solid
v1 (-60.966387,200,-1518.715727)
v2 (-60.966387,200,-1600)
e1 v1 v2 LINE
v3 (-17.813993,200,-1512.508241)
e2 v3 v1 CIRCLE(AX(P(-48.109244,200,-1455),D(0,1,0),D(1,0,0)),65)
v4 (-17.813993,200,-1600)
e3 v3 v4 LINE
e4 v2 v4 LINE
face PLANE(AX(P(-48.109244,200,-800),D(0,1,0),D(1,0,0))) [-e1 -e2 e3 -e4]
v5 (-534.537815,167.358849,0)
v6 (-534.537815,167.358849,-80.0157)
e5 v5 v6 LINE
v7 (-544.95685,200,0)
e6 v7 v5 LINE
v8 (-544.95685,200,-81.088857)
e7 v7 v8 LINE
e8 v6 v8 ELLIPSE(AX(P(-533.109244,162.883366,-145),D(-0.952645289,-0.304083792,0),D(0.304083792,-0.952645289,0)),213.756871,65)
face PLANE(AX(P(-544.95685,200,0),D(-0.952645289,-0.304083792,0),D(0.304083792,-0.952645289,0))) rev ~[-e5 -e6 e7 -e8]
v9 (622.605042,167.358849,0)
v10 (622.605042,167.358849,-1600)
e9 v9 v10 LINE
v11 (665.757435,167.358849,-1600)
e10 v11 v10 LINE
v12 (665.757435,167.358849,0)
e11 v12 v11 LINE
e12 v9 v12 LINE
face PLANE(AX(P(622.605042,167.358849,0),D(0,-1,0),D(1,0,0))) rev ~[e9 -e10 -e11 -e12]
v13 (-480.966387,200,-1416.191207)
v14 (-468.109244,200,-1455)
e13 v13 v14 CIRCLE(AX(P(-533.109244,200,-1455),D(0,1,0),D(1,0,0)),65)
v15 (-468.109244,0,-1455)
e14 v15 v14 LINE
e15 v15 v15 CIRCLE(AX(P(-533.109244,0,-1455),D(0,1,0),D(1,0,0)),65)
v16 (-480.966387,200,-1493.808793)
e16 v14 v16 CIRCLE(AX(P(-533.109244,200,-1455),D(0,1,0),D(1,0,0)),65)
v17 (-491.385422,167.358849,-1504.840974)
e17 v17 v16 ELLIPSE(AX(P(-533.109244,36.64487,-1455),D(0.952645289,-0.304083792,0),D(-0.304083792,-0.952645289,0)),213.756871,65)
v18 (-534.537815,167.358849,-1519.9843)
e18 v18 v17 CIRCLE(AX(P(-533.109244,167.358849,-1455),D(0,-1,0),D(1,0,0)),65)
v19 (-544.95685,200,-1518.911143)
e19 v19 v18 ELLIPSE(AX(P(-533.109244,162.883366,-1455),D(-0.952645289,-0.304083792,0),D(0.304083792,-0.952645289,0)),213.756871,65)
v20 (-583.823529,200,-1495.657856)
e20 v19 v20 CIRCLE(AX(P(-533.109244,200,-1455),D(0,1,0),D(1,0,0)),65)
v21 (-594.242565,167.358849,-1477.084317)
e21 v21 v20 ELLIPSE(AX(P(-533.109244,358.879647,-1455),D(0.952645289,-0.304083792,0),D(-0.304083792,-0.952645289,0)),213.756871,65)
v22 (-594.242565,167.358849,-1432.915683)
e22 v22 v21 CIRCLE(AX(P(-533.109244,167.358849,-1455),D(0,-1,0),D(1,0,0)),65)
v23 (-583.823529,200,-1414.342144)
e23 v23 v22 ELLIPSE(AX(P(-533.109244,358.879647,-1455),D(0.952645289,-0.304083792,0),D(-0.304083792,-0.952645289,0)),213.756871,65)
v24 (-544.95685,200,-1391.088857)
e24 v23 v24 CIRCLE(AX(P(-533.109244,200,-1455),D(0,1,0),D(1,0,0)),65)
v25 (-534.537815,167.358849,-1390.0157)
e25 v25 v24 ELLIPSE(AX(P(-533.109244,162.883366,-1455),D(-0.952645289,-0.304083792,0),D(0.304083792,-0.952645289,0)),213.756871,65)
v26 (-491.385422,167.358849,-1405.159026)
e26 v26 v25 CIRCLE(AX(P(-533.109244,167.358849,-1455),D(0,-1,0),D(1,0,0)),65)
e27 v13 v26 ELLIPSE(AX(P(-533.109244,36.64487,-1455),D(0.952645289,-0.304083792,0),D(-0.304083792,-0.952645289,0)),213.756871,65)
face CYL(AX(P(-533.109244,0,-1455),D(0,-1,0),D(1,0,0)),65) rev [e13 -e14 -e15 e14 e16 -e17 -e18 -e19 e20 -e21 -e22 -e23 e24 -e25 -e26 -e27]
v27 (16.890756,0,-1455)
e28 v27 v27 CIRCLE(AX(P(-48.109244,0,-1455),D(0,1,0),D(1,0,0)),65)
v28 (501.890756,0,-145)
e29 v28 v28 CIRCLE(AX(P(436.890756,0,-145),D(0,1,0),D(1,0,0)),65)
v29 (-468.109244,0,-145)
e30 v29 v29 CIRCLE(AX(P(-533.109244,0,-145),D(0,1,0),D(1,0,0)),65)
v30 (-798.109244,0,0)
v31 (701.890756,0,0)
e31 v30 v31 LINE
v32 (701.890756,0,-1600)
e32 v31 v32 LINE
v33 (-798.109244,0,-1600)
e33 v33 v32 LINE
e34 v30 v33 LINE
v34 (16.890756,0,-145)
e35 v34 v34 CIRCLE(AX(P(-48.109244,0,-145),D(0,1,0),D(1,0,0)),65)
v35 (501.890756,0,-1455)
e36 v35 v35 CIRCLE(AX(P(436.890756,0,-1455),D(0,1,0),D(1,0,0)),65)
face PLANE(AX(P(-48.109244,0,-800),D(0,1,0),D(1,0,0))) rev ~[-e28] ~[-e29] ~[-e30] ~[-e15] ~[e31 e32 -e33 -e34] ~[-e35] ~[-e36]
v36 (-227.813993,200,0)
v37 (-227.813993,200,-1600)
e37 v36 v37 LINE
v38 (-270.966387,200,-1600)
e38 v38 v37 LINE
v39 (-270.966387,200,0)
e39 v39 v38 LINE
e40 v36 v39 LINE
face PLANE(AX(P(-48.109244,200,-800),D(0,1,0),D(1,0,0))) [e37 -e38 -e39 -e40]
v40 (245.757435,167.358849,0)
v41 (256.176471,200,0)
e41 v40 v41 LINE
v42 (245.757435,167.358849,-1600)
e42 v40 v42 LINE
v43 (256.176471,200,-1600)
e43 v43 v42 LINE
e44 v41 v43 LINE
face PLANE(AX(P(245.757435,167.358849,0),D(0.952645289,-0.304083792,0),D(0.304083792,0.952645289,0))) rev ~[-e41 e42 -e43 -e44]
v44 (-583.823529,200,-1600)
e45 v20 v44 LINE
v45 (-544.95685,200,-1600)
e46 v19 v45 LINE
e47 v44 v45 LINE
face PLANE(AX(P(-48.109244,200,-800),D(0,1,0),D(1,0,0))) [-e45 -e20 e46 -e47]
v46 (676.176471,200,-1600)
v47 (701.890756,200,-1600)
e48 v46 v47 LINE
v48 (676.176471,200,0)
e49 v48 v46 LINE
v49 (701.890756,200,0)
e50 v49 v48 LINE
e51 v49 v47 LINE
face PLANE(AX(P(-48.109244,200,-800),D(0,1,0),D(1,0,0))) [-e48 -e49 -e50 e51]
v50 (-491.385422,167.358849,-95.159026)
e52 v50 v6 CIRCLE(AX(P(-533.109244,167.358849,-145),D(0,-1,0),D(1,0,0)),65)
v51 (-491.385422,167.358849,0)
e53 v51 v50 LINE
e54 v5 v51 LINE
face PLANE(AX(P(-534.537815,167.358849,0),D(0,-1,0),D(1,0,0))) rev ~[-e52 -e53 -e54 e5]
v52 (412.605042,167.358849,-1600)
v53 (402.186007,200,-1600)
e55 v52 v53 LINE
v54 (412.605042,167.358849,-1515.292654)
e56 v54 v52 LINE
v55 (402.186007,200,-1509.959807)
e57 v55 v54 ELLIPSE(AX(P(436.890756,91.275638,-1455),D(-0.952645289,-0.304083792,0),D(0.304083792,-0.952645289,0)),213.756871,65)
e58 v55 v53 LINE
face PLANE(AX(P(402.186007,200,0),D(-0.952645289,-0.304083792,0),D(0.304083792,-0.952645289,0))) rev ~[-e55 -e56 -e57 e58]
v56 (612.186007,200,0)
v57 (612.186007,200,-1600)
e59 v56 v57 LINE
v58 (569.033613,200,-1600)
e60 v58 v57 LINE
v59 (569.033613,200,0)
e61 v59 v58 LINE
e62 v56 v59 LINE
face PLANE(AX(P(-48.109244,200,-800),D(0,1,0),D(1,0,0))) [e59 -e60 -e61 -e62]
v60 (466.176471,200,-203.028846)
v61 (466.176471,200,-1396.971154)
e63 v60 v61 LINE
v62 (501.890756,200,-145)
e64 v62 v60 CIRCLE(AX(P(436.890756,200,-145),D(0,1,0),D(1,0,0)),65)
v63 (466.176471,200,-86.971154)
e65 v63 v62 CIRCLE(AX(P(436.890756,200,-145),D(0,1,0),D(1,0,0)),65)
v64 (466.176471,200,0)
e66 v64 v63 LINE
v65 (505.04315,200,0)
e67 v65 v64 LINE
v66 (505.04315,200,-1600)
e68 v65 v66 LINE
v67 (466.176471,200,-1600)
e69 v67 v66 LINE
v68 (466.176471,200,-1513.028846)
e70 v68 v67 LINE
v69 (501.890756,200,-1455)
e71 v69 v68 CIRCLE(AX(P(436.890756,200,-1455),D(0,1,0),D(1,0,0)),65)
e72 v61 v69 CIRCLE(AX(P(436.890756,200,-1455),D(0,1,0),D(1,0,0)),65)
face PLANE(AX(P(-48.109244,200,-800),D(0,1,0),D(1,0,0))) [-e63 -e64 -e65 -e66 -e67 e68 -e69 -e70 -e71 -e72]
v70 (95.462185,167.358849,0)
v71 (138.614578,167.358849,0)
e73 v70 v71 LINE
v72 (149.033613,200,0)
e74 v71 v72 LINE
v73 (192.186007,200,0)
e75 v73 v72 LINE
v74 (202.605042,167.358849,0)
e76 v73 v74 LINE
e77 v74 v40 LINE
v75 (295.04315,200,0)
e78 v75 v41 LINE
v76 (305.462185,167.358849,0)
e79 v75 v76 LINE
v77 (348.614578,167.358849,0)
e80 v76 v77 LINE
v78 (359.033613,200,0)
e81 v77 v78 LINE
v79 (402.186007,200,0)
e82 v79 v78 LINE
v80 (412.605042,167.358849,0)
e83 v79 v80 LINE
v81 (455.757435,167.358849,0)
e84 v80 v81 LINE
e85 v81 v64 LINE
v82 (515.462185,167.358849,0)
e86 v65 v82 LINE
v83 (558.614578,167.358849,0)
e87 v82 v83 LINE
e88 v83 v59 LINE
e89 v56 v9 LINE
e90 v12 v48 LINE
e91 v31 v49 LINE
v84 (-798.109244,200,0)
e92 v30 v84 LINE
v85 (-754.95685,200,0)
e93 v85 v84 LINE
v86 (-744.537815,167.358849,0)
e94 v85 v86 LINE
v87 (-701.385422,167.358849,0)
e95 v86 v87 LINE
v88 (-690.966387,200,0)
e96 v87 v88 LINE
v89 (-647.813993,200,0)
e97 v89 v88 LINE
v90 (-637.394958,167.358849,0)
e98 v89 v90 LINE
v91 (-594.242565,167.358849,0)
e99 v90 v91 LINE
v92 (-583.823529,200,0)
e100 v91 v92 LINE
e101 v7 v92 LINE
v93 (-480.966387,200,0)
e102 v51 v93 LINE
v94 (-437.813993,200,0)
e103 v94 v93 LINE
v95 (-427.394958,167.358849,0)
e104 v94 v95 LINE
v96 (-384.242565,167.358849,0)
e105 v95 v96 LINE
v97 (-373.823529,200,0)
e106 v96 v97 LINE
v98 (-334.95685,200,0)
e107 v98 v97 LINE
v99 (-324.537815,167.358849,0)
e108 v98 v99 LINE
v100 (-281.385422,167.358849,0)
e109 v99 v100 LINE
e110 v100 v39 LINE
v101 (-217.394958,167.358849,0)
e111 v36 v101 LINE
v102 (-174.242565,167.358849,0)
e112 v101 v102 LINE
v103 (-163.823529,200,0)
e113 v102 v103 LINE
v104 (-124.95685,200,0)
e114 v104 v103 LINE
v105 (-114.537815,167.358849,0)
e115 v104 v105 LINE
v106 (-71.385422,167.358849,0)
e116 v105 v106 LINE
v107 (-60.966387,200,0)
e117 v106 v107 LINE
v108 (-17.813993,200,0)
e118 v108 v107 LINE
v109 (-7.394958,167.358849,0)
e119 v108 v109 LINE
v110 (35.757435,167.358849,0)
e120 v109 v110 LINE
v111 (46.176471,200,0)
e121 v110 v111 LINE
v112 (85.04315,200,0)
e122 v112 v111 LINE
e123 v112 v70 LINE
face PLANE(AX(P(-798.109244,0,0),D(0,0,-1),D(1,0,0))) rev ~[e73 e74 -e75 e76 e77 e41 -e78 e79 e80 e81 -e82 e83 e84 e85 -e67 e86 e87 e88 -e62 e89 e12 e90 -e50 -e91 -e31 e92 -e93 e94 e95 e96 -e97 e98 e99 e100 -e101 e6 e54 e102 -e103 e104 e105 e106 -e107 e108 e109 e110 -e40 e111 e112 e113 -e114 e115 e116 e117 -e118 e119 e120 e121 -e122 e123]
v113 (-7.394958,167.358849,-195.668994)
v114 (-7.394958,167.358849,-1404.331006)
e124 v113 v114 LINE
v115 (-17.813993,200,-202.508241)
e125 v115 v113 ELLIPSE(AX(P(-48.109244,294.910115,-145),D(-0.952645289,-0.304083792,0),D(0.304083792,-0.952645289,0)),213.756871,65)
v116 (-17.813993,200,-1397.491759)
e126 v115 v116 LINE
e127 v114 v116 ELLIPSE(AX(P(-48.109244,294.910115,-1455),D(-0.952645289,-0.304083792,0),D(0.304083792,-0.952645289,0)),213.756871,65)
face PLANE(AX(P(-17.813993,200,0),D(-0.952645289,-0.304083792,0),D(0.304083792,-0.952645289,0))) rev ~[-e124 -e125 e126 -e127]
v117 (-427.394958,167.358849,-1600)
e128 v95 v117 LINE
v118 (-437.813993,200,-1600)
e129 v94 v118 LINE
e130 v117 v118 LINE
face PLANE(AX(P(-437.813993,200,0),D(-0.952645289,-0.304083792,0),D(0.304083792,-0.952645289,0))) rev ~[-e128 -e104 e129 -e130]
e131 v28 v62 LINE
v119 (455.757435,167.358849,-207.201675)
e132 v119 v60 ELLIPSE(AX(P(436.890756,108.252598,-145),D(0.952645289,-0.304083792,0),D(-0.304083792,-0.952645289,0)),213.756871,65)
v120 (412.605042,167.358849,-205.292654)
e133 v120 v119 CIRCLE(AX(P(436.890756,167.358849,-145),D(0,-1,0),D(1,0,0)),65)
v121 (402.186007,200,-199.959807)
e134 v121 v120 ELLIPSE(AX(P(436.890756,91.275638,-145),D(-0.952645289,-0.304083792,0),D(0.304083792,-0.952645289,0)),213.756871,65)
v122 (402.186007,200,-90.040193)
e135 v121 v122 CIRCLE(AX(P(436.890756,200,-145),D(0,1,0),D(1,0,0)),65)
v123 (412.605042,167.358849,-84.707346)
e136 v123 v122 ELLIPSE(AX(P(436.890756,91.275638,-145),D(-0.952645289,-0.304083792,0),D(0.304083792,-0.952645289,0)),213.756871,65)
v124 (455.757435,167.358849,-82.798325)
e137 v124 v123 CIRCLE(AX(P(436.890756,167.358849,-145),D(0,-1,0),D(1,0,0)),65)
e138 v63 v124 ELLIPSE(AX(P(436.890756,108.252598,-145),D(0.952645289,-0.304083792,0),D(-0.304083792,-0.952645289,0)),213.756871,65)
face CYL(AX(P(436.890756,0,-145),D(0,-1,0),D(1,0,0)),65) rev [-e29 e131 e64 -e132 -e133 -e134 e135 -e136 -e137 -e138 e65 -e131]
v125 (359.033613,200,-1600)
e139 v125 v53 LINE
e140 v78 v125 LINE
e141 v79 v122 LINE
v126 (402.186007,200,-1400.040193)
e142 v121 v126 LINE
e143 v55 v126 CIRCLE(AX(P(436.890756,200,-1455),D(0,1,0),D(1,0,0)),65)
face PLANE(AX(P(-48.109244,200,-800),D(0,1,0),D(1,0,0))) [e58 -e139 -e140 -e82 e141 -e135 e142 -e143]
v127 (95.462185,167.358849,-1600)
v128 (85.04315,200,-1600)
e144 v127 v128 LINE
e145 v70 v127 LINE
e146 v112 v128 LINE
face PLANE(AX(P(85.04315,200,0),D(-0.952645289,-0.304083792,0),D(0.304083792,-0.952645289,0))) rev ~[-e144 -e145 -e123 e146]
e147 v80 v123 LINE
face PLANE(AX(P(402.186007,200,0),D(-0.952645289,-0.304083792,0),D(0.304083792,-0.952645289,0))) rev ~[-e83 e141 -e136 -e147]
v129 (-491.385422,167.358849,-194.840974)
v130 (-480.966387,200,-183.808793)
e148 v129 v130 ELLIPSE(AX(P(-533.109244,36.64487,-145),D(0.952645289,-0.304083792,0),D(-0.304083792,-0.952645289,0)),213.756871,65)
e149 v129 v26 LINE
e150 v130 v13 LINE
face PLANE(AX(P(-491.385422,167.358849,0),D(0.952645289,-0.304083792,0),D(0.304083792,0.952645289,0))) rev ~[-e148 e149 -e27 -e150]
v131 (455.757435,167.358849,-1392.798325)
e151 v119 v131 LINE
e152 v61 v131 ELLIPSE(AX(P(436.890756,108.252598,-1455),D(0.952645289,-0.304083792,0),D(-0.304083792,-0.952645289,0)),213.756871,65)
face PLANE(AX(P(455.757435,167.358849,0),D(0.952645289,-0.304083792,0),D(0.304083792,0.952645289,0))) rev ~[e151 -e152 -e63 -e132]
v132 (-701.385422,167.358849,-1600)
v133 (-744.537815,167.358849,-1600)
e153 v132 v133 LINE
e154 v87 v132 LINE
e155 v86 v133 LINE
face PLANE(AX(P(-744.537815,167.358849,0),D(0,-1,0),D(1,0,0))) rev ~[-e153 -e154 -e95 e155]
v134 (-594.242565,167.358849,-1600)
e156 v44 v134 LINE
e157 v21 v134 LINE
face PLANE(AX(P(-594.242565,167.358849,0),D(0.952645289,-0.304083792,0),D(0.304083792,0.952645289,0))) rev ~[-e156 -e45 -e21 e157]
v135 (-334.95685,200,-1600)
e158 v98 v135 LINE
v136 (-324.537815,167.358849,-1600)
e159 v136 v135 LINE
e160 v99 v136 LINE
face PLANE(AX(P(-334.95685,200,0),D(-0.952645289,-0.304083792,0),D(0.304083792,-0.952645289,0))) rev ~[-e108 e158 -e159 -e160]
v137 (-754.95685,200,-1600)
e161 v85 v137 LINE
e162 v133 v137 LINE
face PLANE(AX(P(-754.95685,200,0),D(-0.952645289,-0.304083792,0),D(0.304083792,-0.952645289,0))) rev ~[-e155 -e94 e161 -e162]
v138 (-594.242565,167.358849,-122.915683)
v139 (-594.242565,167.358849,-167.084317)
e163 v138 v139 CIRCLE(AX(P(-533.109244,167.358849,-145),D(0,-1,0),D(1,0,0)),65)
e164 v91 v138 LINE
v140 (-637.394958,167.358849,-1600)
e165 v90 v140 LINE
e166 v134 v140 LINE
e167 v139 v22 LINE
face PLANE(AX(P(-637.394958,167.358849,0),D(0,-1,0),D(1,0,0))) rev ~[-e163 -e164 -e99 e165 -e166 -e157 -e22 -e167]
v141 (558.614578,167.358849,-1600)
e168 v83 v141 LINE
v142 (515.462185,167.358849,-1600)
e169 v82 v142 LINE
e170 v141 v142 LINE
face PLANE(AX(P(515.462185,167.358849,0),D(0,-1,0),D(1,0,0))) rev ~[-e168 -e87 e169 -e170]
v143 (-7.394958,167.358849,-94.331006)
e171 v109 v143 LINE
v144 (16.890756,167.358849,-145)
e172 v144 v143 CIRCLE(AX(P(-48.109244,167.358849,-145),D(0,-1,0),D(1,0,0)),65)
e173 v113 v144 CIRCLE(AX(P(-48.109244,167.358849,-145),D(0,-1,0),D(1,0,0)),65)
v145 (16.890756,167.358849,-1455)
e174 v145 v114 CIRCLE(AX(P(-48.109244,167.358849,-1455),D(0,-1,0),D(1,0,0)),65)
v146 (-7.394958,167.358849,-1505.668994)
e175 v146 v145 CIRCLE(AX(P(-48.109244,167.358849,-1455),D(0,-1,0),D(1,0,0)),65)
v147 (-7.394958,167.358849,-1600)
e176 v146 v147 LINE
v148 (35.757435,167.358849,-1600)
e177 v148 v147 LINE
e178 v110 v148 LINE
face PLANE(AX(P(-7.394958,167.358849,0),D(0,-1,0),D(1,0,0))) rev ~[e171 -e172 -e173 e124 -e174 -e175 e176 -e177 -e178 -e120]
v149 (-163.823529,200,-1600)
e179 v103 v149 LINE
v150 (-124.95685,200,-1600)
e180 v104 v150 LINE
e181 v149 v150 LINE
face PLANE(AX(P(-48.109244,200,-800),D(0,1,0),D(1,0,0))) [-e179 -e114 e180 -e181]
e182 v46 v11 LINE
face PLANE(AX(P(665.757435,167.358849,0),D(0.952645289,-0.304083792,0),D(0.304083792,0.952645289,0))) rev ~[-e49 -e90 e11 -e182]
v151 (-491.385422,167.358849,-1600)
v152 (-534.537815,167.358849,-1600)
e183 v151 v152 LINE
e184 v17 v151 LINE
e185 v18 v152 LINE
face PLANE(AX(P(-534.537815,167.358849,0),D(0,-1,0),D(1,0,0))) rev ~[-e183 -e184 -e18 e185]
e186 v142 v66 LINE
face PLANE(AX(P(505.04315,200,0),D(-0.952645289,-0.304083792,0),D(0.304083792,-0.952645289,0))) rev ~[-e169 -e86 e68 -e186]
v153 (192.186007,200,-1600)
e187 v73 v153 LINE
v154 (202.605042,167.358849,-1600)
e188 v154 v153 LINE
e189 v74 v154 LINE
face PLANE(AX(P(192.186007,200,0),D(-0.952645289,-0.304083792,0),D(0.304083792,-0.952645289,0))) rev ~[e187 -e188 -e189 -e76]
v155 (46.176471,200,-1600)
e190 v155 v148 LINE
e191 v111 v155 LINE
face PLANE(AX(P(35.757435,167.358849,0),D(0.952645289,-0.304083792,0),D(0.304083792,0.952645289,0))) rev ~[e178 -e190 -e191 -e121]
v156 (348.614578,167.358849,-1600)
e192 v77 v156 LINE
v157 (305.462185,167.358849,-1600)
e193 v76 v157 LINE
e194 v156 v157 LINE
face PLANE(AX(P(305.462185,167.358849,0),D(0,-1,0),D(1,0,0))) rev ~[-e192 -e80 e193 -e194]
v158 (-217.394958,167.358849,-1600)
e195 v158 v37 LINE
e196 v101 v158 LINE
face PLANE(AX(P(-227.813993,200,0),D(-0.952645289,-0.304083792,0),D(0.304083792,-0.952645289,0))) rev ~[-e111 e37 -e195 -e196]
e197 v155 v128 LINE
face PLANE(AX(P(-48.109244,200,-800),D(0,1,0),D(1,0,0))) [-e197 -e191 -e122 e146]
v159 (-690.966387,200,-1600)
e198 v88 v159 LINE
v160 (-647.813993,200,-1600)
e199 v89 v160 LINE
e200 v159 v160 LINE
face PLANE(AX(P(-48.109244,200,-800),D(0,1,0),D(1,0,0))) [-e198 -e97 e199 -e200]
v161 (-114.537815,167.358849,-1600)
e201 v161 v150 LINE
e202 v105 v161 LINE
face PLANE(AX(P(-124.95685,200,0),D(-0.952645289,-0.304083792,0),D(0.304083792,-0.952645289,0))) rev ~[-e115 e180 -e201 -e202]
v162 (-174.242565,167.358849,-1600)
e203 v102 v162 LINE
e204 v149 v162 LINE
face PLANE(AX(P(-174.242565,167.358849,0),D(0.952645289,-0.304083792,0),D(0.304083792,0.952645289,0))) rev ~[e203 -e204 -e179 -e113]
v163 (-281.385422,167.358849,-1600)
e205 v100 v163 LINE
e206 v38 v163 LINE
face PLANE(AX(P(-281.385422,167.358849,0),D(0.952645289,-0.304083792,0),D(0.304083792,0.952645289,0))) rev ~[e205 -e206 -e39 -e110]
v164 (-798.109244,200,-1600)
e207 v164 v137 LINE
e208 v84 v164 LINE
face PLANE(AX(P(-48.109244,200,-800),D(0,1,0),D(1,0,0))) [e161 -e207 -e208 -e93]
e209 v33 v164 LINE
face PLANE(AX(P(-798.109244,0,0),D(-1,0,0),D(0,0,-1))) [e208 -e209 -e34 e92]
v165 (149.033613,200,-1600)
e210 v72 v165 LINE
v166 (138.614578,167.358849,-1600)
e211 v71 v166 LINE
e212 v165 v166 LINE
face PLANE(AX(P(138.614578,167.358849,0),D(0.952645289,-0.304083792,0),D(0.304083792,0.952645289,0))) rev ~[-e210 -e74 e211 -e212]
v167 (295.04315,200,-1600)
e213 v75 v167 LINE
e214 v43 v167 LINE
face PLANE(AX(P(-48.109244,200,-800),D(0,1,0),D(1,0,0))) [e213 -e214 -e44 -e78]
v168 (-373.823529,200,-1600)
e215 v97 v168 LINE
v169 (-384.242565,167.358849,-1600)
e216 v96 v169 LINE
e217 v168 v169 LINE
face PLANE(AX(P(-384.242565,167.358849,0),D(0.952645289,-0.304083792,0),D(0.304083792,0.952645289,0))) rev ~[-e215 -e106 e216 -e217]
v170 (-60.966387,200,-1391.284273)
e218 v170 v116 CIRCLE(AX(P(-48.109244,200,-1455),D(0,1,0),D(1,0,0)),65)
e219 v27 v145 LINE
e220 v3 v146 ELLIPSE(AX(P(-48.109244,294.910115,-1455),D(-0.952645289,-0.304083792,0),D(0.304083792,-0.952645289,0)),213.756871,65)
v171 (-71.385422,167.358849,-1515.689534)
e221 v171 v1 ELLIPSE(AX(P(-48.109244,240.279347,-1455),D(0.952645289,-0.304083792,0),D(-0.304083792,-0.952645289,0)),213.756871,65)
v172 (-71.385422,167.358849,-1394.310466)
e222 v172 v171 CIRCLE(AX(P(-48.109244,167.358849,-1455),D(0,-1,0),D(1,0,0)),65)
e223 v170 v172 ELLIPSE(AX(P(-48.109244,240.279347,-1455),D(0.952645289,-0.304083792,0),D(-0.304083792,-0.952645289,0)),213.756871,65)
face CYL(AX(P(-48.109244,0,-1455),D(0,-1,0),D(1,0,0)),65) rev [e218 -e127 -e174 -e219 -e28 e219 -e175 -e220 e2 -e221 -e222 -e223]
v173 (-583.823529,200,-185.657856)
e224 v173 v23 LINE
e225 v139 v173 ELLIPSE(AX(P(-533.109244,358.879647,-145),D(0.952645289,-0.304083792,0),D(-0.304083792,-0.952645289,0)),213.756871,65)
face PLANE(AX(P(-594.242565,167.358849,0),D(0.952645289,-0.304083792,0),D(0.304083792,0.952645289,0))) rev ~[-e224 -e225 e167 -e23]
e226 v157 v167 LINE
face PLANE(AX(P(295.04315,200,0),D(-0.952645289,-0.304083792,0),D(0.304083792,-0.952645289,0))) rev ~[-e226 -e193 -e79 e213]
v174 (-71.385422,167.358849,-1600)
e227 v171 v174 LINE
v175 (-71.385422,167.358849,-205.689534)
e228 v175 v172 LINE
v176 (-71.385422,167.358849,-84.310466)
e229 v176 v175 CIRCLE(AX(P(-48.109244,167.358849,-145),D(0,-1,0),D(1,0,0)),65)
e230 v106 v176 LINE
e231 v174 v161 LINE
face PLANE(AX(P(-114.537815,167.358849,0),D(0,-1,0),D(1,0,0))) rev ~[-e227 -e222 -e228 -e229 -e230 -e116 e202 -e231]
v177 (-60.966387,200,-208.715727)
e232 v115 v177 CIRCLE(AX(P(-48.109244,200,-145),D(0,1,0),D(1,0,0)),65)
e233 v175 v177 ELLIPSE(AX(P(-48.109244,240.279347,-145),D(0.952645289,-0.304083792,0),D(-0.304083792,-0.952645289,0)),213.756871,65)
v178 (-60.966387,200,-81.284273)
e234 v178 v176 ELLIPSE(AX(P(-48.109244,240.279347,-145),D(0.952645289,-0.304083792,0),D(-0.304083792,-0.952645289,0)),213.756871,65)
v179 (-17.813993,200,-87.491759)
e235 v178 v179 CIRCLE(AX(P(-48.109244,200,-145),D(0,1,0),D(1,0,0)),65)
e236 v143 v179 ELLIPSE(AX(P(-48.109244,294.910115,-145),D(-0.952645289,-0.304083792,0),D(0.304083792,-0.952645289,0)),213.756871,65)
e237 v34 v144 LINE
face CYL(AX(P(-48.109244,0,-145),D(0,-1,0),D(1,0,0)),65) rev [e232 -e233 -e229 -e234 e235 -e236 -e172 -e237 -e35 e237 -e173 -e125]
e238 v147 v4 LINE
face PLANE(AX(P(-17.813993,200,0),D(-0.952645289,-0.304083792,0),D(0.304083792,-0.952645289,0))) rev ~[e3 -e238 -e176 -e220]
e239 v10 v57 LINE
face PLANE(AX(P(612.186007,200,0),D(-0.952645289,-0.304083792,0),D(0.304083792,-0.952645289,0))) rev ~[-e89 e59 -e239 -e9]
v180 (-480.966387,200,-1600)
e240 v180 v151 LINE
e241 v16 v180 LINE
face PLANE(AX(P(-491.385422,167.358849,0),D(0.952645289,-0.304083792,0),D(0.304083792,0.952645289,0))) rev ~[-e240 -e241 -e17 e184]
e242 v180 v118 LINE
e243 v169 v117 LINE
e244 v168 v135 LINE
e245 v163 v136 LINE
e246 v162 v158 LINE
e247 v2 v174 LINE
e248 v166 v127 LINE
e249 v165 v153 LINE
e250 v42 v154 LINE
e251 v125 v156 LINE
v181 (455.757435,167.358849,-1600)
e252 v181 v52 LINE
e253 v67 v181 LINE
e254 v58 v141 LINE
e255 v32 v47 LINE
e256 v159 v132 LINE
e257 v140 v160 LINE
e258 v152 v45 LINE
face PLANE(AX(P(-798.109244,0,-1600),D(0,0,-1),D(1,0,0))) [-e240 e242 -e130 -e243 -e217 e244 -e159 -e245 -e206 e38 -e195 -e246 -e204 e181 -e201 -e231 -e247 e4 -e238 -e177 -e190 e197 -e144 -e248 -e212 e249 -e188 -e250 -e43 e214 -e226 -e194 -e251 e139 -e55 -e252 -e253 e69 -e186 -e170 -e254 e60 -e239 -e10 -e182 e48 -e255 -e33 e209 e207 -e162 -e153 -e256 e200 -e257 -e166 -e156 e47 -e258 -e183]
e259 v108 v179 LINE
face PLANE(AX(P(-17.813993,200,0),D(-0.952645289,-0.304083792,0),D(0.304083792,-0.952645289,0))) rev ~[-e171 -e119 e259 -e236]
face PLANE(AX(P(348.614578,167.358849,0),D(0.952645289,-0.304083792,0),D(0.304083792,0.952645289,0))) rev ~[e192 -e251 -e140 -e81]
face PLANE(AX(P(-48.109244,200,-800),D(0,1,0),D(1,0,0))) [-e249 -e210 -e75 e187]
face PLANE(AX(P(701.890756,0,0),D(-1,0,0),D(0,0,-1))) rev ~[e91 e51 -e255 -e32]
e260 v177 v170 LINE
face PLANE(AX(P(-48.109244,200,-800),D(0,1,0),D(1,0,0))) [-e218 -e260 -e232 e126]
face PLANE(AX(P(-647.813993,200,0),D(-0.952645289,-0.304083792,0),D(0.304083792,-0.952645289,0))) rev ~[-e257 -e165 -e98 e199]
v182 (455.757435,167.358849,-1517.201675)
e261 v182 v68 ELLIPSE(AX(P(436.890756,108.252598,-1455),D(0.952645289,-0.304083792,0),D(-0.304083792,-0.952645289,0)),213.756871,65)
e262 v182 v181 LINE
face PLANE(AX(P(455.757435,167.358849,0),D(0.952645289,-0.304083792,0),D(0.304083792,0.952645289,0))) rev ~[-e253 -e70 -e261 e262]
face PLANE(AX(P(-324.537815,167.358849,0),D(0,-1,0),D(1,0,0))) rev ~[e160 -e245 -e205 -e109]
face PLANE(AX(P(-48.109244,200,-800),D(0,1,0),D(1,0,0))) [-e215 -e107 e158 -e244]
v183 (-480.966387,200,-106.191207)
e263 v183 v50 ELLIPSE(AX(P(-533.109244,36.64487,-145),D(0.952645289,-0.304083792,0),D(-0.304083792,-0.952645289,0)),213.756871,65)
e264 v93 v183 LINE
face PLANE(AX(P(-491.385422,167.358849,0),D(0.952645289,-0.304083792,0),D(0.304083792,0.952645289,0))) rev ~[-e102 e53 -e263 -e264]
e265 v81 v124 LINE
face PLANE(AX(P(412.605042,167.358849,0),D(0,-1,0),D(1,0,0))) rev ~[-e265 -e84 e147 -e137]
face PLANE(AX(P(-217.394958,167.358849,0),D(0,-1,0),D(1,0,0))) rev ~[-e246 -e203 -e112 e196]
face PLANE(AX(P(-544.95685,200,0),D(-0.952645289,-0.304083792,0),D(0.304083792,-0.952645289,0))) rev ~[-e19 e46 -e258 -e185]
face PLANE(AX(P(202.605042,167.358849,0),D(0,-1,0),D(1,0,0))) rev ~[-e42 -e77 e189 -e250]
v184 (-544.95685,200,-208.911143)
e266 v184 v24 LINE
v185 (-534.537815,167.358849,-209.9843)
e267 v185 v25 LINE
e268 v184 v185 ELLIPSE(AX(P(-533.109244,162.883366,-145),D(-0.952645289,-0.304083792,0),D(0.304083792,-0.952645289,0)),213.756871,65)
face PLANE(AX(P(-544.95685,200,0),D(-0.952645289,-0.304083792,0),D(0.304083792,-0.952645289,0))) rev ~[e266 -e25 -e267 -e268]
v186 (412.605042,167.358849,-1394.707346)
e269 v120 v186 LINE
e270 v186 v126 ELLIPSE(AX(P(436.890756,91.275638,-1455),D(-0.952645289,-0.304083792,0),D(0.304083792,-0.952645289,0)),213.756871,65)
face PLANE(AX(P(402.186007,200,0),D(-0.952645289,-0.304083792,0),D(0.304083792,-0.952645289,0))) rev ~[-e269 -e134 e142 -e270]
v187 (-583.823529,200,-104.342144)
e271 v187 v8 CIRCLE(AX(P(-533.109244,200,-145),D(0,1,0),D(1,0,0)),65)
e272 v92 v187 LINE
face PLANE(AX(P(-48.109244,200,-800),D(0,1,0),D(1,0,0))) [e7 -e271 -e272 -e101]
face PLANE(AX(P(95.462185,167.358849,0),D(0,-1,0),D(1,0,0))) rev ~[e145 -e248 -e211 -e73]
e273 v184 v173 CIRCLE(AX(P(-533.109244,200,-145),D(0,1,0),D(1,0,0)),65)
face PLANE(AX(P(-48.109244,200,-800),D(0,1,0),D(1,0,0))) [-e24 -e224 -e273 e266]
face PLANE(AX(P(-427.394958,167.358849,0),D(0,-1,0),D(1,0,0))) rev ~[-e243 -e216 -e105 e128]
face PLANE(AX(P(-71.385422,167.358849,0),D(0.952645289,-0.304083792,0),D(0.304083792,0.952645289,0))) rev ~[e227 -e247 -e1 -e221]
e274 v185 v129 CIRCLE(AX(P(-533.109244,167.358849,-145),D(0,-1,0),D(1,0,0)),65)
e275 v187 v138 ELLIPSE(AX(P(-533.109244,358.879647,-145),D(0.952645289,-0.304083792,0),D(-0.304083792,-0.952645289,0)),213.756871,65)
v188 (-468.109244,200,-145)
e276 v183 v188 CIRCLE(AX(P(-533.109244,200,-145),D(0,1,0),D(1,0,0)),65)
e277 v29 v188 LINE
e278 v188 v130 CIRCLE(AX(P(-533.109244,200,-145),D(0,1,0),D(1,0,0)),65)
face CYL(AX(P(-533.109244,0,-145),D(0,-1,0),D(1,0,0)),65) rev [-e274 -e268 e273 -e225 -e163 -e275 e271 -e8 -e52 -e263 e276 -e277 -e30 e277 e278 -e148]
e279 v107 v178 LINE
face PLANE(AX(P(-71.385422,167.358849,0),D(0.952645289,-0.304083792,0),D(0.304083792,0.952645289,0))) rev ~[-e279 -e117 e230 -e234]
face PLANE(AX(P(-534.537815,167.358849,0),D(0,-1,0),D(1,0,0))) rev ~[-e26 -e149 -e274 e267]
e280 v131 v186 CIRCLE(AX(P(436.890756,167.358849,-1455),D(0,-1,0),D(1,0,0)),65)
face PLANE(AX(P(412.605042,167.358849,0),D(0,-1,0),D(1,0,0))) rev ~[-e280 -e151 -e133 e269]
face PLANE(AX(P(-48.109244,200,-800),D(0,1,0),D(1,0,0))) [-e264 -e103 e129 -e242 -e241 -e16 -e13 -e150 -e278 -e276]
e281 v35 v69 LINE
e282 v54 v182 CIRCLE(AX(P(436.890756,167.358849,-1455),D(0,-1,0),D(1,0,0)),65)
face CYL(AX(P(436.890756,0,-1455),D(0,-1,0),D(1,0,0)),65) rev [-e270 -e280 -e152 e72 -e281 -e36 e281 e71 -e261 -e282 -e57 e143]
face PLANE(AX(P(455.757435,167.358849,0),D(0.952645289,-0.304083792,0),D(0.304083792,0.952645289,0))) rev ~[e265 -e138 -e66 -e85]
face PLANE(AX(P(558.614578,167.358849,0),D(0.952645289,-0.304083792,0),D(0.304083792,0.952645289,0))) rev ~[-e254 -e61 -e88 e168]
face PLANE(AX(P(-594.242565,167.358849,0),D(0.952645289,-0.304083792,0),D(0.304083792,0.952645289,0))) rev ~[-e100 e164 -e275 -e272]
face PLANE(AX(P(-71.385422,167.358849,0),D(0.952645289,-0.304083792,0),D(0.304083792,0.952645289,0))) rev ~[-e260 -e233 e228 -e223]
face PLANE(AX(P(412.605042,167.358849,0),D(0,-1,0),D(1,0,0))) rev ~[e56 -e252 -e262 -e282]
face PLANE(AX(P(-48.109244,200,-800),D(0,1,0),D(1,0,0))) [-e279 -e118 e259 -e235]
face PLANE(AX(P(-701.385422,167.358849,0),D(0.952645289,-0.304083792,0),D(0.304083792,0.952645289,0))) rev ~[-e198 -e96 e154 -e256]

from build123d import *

# Parameters (mm, degrees)
SKETCH1_W               = 1500
SKETCH1_H               = 1600
SKETCH1_R               = 65
BOSS_EXTRUDE1_DEPTH     = 200
CUT_EXTRUDE1_DEPTH      = 1
CUT_EXTRUDE1_DEPTH_BACK = 1601


with BuildPart() as part:
    # Sketch1 → Boss-Extrude1 (new body)
    with BuildSketch(Plane(origin=(0, 0, 0), x_dir=(1, 0, 0), z_dir=(0, 1, 0))):
        with Locations((-48.109243697, 800)):
            Rectangle(SKETCH1_W, SKETCH1_H)
        with Locations((436.890756303, 1455)):
            Circle(SKETCH1_R, mode=Mode.SUBTRACT)
        with Locations((-48.109243697, 1455)):
            Circle(SKETCH1_R, mode=Mode.SUBTRACT)
        with Locations((-533.109243697, 1455)):
            Circle(SKETCH1_R, mode=Mode.SUBTRACT)
        with Locations((436.890756303, 145)):
            Circle(SKETCH1_R, mode=Mode.SUBTRACT)
        with Locations((-48.109243697, 145)):
            Circle(SKETCH1_R, mode=Mode.SUBTRACT)
        with Locations((-533.109243697, 145)):
            Circle(SKETCH1_R, mode=Mode.SUBTRACT)
    extrude(amount=BOSS_EXTRUDE1_DEPTH)

    # Sketch3 → Cut-Extrude1 (cut, two sides)
    with BuildSketch(Plane.XY) as cut_extrude1_sk:
        Polygon((-690.966386555, 200), (-754.956850499, 200), (-744.537815126, 167.358848998), (-701.385421928, 167.358848998), align=None)
        Polygon((676.176470588, 200), (612.186006644, 200), (622.605042017, 167.358848998), (665.757435215, 167.358848998), align=None)
        Polygon((569.033613445, 200), (505.043149501, 200), (515.462184874, 167.358848998), (558.614578072, 167.358848998), align=None)
        Polygon((466.176470588, 200), (402.186006644, 200), (412.605042017, 167.358848998), (455.757435215, 167.358848998), align=None)
        Polygon((359.033613445, 200), (295.043149501, 200), (305.462184874, 167.358848998), (348.614578072, 167.358848998), align=None)
        Polygon((256.176470588, 200), (192.186006644, 200), (202.605042017, 167.358848998), (245.757435215, 167.358848998), align=None)
        Polygon((149.033613445, 200), (85.043149501, 200), (95.462184874, 167.358848998), (138.614578072, 167.358848998), align=None)
        Polygon((46.176470588, 200), (-17.813993356, 200), (-7.394957983, 167.358848998), (35.757435215, 167.358848998), align=None)
        Polygon((-60.966386555, 200), (-124.956850499, 200), (-114.537815126, 167.358848998), (-71.385421928, 167.358848998), align=None)
        Polygon((-163.823529412, 200), (-227.813993356, 200), (-217.394957983, 167.358848998), (-174.242564785, 167.358848998), align=None)
        Polygon((-270.966386555, 200), (-334.956850499, 200), (-324.537815126, 167.358848998), (-281.385421928, 167.358848998), align=None)
        Polygon((-373.823529412, 200), (-437.813993356, 200), (-427.394957983, 167.358848998), (-384.242564785, 167.358848998), align=None)
        Polygon((-480.966386555, 200), (-544.956850499, 200), (-534.537815126, 167.358848998), (-491.385421928, 167.358848998), align=None)
        Polygon((-583.823529412, 200), (-647.813993356, 200), (-637.394957983, 167.358848998), (-594.242564785, 167.358848998), align=None)
    extrude(amount=CUT_EXTRUDE1_DEPTH, mode=Mode.SUBTRACT)
    extrude(cut_extrude1_sk.sketch, amount=-CUT_EXTRUDE1_DEPTH_BACK, mode=Mode.SUBTRACT)


solid = part.part
